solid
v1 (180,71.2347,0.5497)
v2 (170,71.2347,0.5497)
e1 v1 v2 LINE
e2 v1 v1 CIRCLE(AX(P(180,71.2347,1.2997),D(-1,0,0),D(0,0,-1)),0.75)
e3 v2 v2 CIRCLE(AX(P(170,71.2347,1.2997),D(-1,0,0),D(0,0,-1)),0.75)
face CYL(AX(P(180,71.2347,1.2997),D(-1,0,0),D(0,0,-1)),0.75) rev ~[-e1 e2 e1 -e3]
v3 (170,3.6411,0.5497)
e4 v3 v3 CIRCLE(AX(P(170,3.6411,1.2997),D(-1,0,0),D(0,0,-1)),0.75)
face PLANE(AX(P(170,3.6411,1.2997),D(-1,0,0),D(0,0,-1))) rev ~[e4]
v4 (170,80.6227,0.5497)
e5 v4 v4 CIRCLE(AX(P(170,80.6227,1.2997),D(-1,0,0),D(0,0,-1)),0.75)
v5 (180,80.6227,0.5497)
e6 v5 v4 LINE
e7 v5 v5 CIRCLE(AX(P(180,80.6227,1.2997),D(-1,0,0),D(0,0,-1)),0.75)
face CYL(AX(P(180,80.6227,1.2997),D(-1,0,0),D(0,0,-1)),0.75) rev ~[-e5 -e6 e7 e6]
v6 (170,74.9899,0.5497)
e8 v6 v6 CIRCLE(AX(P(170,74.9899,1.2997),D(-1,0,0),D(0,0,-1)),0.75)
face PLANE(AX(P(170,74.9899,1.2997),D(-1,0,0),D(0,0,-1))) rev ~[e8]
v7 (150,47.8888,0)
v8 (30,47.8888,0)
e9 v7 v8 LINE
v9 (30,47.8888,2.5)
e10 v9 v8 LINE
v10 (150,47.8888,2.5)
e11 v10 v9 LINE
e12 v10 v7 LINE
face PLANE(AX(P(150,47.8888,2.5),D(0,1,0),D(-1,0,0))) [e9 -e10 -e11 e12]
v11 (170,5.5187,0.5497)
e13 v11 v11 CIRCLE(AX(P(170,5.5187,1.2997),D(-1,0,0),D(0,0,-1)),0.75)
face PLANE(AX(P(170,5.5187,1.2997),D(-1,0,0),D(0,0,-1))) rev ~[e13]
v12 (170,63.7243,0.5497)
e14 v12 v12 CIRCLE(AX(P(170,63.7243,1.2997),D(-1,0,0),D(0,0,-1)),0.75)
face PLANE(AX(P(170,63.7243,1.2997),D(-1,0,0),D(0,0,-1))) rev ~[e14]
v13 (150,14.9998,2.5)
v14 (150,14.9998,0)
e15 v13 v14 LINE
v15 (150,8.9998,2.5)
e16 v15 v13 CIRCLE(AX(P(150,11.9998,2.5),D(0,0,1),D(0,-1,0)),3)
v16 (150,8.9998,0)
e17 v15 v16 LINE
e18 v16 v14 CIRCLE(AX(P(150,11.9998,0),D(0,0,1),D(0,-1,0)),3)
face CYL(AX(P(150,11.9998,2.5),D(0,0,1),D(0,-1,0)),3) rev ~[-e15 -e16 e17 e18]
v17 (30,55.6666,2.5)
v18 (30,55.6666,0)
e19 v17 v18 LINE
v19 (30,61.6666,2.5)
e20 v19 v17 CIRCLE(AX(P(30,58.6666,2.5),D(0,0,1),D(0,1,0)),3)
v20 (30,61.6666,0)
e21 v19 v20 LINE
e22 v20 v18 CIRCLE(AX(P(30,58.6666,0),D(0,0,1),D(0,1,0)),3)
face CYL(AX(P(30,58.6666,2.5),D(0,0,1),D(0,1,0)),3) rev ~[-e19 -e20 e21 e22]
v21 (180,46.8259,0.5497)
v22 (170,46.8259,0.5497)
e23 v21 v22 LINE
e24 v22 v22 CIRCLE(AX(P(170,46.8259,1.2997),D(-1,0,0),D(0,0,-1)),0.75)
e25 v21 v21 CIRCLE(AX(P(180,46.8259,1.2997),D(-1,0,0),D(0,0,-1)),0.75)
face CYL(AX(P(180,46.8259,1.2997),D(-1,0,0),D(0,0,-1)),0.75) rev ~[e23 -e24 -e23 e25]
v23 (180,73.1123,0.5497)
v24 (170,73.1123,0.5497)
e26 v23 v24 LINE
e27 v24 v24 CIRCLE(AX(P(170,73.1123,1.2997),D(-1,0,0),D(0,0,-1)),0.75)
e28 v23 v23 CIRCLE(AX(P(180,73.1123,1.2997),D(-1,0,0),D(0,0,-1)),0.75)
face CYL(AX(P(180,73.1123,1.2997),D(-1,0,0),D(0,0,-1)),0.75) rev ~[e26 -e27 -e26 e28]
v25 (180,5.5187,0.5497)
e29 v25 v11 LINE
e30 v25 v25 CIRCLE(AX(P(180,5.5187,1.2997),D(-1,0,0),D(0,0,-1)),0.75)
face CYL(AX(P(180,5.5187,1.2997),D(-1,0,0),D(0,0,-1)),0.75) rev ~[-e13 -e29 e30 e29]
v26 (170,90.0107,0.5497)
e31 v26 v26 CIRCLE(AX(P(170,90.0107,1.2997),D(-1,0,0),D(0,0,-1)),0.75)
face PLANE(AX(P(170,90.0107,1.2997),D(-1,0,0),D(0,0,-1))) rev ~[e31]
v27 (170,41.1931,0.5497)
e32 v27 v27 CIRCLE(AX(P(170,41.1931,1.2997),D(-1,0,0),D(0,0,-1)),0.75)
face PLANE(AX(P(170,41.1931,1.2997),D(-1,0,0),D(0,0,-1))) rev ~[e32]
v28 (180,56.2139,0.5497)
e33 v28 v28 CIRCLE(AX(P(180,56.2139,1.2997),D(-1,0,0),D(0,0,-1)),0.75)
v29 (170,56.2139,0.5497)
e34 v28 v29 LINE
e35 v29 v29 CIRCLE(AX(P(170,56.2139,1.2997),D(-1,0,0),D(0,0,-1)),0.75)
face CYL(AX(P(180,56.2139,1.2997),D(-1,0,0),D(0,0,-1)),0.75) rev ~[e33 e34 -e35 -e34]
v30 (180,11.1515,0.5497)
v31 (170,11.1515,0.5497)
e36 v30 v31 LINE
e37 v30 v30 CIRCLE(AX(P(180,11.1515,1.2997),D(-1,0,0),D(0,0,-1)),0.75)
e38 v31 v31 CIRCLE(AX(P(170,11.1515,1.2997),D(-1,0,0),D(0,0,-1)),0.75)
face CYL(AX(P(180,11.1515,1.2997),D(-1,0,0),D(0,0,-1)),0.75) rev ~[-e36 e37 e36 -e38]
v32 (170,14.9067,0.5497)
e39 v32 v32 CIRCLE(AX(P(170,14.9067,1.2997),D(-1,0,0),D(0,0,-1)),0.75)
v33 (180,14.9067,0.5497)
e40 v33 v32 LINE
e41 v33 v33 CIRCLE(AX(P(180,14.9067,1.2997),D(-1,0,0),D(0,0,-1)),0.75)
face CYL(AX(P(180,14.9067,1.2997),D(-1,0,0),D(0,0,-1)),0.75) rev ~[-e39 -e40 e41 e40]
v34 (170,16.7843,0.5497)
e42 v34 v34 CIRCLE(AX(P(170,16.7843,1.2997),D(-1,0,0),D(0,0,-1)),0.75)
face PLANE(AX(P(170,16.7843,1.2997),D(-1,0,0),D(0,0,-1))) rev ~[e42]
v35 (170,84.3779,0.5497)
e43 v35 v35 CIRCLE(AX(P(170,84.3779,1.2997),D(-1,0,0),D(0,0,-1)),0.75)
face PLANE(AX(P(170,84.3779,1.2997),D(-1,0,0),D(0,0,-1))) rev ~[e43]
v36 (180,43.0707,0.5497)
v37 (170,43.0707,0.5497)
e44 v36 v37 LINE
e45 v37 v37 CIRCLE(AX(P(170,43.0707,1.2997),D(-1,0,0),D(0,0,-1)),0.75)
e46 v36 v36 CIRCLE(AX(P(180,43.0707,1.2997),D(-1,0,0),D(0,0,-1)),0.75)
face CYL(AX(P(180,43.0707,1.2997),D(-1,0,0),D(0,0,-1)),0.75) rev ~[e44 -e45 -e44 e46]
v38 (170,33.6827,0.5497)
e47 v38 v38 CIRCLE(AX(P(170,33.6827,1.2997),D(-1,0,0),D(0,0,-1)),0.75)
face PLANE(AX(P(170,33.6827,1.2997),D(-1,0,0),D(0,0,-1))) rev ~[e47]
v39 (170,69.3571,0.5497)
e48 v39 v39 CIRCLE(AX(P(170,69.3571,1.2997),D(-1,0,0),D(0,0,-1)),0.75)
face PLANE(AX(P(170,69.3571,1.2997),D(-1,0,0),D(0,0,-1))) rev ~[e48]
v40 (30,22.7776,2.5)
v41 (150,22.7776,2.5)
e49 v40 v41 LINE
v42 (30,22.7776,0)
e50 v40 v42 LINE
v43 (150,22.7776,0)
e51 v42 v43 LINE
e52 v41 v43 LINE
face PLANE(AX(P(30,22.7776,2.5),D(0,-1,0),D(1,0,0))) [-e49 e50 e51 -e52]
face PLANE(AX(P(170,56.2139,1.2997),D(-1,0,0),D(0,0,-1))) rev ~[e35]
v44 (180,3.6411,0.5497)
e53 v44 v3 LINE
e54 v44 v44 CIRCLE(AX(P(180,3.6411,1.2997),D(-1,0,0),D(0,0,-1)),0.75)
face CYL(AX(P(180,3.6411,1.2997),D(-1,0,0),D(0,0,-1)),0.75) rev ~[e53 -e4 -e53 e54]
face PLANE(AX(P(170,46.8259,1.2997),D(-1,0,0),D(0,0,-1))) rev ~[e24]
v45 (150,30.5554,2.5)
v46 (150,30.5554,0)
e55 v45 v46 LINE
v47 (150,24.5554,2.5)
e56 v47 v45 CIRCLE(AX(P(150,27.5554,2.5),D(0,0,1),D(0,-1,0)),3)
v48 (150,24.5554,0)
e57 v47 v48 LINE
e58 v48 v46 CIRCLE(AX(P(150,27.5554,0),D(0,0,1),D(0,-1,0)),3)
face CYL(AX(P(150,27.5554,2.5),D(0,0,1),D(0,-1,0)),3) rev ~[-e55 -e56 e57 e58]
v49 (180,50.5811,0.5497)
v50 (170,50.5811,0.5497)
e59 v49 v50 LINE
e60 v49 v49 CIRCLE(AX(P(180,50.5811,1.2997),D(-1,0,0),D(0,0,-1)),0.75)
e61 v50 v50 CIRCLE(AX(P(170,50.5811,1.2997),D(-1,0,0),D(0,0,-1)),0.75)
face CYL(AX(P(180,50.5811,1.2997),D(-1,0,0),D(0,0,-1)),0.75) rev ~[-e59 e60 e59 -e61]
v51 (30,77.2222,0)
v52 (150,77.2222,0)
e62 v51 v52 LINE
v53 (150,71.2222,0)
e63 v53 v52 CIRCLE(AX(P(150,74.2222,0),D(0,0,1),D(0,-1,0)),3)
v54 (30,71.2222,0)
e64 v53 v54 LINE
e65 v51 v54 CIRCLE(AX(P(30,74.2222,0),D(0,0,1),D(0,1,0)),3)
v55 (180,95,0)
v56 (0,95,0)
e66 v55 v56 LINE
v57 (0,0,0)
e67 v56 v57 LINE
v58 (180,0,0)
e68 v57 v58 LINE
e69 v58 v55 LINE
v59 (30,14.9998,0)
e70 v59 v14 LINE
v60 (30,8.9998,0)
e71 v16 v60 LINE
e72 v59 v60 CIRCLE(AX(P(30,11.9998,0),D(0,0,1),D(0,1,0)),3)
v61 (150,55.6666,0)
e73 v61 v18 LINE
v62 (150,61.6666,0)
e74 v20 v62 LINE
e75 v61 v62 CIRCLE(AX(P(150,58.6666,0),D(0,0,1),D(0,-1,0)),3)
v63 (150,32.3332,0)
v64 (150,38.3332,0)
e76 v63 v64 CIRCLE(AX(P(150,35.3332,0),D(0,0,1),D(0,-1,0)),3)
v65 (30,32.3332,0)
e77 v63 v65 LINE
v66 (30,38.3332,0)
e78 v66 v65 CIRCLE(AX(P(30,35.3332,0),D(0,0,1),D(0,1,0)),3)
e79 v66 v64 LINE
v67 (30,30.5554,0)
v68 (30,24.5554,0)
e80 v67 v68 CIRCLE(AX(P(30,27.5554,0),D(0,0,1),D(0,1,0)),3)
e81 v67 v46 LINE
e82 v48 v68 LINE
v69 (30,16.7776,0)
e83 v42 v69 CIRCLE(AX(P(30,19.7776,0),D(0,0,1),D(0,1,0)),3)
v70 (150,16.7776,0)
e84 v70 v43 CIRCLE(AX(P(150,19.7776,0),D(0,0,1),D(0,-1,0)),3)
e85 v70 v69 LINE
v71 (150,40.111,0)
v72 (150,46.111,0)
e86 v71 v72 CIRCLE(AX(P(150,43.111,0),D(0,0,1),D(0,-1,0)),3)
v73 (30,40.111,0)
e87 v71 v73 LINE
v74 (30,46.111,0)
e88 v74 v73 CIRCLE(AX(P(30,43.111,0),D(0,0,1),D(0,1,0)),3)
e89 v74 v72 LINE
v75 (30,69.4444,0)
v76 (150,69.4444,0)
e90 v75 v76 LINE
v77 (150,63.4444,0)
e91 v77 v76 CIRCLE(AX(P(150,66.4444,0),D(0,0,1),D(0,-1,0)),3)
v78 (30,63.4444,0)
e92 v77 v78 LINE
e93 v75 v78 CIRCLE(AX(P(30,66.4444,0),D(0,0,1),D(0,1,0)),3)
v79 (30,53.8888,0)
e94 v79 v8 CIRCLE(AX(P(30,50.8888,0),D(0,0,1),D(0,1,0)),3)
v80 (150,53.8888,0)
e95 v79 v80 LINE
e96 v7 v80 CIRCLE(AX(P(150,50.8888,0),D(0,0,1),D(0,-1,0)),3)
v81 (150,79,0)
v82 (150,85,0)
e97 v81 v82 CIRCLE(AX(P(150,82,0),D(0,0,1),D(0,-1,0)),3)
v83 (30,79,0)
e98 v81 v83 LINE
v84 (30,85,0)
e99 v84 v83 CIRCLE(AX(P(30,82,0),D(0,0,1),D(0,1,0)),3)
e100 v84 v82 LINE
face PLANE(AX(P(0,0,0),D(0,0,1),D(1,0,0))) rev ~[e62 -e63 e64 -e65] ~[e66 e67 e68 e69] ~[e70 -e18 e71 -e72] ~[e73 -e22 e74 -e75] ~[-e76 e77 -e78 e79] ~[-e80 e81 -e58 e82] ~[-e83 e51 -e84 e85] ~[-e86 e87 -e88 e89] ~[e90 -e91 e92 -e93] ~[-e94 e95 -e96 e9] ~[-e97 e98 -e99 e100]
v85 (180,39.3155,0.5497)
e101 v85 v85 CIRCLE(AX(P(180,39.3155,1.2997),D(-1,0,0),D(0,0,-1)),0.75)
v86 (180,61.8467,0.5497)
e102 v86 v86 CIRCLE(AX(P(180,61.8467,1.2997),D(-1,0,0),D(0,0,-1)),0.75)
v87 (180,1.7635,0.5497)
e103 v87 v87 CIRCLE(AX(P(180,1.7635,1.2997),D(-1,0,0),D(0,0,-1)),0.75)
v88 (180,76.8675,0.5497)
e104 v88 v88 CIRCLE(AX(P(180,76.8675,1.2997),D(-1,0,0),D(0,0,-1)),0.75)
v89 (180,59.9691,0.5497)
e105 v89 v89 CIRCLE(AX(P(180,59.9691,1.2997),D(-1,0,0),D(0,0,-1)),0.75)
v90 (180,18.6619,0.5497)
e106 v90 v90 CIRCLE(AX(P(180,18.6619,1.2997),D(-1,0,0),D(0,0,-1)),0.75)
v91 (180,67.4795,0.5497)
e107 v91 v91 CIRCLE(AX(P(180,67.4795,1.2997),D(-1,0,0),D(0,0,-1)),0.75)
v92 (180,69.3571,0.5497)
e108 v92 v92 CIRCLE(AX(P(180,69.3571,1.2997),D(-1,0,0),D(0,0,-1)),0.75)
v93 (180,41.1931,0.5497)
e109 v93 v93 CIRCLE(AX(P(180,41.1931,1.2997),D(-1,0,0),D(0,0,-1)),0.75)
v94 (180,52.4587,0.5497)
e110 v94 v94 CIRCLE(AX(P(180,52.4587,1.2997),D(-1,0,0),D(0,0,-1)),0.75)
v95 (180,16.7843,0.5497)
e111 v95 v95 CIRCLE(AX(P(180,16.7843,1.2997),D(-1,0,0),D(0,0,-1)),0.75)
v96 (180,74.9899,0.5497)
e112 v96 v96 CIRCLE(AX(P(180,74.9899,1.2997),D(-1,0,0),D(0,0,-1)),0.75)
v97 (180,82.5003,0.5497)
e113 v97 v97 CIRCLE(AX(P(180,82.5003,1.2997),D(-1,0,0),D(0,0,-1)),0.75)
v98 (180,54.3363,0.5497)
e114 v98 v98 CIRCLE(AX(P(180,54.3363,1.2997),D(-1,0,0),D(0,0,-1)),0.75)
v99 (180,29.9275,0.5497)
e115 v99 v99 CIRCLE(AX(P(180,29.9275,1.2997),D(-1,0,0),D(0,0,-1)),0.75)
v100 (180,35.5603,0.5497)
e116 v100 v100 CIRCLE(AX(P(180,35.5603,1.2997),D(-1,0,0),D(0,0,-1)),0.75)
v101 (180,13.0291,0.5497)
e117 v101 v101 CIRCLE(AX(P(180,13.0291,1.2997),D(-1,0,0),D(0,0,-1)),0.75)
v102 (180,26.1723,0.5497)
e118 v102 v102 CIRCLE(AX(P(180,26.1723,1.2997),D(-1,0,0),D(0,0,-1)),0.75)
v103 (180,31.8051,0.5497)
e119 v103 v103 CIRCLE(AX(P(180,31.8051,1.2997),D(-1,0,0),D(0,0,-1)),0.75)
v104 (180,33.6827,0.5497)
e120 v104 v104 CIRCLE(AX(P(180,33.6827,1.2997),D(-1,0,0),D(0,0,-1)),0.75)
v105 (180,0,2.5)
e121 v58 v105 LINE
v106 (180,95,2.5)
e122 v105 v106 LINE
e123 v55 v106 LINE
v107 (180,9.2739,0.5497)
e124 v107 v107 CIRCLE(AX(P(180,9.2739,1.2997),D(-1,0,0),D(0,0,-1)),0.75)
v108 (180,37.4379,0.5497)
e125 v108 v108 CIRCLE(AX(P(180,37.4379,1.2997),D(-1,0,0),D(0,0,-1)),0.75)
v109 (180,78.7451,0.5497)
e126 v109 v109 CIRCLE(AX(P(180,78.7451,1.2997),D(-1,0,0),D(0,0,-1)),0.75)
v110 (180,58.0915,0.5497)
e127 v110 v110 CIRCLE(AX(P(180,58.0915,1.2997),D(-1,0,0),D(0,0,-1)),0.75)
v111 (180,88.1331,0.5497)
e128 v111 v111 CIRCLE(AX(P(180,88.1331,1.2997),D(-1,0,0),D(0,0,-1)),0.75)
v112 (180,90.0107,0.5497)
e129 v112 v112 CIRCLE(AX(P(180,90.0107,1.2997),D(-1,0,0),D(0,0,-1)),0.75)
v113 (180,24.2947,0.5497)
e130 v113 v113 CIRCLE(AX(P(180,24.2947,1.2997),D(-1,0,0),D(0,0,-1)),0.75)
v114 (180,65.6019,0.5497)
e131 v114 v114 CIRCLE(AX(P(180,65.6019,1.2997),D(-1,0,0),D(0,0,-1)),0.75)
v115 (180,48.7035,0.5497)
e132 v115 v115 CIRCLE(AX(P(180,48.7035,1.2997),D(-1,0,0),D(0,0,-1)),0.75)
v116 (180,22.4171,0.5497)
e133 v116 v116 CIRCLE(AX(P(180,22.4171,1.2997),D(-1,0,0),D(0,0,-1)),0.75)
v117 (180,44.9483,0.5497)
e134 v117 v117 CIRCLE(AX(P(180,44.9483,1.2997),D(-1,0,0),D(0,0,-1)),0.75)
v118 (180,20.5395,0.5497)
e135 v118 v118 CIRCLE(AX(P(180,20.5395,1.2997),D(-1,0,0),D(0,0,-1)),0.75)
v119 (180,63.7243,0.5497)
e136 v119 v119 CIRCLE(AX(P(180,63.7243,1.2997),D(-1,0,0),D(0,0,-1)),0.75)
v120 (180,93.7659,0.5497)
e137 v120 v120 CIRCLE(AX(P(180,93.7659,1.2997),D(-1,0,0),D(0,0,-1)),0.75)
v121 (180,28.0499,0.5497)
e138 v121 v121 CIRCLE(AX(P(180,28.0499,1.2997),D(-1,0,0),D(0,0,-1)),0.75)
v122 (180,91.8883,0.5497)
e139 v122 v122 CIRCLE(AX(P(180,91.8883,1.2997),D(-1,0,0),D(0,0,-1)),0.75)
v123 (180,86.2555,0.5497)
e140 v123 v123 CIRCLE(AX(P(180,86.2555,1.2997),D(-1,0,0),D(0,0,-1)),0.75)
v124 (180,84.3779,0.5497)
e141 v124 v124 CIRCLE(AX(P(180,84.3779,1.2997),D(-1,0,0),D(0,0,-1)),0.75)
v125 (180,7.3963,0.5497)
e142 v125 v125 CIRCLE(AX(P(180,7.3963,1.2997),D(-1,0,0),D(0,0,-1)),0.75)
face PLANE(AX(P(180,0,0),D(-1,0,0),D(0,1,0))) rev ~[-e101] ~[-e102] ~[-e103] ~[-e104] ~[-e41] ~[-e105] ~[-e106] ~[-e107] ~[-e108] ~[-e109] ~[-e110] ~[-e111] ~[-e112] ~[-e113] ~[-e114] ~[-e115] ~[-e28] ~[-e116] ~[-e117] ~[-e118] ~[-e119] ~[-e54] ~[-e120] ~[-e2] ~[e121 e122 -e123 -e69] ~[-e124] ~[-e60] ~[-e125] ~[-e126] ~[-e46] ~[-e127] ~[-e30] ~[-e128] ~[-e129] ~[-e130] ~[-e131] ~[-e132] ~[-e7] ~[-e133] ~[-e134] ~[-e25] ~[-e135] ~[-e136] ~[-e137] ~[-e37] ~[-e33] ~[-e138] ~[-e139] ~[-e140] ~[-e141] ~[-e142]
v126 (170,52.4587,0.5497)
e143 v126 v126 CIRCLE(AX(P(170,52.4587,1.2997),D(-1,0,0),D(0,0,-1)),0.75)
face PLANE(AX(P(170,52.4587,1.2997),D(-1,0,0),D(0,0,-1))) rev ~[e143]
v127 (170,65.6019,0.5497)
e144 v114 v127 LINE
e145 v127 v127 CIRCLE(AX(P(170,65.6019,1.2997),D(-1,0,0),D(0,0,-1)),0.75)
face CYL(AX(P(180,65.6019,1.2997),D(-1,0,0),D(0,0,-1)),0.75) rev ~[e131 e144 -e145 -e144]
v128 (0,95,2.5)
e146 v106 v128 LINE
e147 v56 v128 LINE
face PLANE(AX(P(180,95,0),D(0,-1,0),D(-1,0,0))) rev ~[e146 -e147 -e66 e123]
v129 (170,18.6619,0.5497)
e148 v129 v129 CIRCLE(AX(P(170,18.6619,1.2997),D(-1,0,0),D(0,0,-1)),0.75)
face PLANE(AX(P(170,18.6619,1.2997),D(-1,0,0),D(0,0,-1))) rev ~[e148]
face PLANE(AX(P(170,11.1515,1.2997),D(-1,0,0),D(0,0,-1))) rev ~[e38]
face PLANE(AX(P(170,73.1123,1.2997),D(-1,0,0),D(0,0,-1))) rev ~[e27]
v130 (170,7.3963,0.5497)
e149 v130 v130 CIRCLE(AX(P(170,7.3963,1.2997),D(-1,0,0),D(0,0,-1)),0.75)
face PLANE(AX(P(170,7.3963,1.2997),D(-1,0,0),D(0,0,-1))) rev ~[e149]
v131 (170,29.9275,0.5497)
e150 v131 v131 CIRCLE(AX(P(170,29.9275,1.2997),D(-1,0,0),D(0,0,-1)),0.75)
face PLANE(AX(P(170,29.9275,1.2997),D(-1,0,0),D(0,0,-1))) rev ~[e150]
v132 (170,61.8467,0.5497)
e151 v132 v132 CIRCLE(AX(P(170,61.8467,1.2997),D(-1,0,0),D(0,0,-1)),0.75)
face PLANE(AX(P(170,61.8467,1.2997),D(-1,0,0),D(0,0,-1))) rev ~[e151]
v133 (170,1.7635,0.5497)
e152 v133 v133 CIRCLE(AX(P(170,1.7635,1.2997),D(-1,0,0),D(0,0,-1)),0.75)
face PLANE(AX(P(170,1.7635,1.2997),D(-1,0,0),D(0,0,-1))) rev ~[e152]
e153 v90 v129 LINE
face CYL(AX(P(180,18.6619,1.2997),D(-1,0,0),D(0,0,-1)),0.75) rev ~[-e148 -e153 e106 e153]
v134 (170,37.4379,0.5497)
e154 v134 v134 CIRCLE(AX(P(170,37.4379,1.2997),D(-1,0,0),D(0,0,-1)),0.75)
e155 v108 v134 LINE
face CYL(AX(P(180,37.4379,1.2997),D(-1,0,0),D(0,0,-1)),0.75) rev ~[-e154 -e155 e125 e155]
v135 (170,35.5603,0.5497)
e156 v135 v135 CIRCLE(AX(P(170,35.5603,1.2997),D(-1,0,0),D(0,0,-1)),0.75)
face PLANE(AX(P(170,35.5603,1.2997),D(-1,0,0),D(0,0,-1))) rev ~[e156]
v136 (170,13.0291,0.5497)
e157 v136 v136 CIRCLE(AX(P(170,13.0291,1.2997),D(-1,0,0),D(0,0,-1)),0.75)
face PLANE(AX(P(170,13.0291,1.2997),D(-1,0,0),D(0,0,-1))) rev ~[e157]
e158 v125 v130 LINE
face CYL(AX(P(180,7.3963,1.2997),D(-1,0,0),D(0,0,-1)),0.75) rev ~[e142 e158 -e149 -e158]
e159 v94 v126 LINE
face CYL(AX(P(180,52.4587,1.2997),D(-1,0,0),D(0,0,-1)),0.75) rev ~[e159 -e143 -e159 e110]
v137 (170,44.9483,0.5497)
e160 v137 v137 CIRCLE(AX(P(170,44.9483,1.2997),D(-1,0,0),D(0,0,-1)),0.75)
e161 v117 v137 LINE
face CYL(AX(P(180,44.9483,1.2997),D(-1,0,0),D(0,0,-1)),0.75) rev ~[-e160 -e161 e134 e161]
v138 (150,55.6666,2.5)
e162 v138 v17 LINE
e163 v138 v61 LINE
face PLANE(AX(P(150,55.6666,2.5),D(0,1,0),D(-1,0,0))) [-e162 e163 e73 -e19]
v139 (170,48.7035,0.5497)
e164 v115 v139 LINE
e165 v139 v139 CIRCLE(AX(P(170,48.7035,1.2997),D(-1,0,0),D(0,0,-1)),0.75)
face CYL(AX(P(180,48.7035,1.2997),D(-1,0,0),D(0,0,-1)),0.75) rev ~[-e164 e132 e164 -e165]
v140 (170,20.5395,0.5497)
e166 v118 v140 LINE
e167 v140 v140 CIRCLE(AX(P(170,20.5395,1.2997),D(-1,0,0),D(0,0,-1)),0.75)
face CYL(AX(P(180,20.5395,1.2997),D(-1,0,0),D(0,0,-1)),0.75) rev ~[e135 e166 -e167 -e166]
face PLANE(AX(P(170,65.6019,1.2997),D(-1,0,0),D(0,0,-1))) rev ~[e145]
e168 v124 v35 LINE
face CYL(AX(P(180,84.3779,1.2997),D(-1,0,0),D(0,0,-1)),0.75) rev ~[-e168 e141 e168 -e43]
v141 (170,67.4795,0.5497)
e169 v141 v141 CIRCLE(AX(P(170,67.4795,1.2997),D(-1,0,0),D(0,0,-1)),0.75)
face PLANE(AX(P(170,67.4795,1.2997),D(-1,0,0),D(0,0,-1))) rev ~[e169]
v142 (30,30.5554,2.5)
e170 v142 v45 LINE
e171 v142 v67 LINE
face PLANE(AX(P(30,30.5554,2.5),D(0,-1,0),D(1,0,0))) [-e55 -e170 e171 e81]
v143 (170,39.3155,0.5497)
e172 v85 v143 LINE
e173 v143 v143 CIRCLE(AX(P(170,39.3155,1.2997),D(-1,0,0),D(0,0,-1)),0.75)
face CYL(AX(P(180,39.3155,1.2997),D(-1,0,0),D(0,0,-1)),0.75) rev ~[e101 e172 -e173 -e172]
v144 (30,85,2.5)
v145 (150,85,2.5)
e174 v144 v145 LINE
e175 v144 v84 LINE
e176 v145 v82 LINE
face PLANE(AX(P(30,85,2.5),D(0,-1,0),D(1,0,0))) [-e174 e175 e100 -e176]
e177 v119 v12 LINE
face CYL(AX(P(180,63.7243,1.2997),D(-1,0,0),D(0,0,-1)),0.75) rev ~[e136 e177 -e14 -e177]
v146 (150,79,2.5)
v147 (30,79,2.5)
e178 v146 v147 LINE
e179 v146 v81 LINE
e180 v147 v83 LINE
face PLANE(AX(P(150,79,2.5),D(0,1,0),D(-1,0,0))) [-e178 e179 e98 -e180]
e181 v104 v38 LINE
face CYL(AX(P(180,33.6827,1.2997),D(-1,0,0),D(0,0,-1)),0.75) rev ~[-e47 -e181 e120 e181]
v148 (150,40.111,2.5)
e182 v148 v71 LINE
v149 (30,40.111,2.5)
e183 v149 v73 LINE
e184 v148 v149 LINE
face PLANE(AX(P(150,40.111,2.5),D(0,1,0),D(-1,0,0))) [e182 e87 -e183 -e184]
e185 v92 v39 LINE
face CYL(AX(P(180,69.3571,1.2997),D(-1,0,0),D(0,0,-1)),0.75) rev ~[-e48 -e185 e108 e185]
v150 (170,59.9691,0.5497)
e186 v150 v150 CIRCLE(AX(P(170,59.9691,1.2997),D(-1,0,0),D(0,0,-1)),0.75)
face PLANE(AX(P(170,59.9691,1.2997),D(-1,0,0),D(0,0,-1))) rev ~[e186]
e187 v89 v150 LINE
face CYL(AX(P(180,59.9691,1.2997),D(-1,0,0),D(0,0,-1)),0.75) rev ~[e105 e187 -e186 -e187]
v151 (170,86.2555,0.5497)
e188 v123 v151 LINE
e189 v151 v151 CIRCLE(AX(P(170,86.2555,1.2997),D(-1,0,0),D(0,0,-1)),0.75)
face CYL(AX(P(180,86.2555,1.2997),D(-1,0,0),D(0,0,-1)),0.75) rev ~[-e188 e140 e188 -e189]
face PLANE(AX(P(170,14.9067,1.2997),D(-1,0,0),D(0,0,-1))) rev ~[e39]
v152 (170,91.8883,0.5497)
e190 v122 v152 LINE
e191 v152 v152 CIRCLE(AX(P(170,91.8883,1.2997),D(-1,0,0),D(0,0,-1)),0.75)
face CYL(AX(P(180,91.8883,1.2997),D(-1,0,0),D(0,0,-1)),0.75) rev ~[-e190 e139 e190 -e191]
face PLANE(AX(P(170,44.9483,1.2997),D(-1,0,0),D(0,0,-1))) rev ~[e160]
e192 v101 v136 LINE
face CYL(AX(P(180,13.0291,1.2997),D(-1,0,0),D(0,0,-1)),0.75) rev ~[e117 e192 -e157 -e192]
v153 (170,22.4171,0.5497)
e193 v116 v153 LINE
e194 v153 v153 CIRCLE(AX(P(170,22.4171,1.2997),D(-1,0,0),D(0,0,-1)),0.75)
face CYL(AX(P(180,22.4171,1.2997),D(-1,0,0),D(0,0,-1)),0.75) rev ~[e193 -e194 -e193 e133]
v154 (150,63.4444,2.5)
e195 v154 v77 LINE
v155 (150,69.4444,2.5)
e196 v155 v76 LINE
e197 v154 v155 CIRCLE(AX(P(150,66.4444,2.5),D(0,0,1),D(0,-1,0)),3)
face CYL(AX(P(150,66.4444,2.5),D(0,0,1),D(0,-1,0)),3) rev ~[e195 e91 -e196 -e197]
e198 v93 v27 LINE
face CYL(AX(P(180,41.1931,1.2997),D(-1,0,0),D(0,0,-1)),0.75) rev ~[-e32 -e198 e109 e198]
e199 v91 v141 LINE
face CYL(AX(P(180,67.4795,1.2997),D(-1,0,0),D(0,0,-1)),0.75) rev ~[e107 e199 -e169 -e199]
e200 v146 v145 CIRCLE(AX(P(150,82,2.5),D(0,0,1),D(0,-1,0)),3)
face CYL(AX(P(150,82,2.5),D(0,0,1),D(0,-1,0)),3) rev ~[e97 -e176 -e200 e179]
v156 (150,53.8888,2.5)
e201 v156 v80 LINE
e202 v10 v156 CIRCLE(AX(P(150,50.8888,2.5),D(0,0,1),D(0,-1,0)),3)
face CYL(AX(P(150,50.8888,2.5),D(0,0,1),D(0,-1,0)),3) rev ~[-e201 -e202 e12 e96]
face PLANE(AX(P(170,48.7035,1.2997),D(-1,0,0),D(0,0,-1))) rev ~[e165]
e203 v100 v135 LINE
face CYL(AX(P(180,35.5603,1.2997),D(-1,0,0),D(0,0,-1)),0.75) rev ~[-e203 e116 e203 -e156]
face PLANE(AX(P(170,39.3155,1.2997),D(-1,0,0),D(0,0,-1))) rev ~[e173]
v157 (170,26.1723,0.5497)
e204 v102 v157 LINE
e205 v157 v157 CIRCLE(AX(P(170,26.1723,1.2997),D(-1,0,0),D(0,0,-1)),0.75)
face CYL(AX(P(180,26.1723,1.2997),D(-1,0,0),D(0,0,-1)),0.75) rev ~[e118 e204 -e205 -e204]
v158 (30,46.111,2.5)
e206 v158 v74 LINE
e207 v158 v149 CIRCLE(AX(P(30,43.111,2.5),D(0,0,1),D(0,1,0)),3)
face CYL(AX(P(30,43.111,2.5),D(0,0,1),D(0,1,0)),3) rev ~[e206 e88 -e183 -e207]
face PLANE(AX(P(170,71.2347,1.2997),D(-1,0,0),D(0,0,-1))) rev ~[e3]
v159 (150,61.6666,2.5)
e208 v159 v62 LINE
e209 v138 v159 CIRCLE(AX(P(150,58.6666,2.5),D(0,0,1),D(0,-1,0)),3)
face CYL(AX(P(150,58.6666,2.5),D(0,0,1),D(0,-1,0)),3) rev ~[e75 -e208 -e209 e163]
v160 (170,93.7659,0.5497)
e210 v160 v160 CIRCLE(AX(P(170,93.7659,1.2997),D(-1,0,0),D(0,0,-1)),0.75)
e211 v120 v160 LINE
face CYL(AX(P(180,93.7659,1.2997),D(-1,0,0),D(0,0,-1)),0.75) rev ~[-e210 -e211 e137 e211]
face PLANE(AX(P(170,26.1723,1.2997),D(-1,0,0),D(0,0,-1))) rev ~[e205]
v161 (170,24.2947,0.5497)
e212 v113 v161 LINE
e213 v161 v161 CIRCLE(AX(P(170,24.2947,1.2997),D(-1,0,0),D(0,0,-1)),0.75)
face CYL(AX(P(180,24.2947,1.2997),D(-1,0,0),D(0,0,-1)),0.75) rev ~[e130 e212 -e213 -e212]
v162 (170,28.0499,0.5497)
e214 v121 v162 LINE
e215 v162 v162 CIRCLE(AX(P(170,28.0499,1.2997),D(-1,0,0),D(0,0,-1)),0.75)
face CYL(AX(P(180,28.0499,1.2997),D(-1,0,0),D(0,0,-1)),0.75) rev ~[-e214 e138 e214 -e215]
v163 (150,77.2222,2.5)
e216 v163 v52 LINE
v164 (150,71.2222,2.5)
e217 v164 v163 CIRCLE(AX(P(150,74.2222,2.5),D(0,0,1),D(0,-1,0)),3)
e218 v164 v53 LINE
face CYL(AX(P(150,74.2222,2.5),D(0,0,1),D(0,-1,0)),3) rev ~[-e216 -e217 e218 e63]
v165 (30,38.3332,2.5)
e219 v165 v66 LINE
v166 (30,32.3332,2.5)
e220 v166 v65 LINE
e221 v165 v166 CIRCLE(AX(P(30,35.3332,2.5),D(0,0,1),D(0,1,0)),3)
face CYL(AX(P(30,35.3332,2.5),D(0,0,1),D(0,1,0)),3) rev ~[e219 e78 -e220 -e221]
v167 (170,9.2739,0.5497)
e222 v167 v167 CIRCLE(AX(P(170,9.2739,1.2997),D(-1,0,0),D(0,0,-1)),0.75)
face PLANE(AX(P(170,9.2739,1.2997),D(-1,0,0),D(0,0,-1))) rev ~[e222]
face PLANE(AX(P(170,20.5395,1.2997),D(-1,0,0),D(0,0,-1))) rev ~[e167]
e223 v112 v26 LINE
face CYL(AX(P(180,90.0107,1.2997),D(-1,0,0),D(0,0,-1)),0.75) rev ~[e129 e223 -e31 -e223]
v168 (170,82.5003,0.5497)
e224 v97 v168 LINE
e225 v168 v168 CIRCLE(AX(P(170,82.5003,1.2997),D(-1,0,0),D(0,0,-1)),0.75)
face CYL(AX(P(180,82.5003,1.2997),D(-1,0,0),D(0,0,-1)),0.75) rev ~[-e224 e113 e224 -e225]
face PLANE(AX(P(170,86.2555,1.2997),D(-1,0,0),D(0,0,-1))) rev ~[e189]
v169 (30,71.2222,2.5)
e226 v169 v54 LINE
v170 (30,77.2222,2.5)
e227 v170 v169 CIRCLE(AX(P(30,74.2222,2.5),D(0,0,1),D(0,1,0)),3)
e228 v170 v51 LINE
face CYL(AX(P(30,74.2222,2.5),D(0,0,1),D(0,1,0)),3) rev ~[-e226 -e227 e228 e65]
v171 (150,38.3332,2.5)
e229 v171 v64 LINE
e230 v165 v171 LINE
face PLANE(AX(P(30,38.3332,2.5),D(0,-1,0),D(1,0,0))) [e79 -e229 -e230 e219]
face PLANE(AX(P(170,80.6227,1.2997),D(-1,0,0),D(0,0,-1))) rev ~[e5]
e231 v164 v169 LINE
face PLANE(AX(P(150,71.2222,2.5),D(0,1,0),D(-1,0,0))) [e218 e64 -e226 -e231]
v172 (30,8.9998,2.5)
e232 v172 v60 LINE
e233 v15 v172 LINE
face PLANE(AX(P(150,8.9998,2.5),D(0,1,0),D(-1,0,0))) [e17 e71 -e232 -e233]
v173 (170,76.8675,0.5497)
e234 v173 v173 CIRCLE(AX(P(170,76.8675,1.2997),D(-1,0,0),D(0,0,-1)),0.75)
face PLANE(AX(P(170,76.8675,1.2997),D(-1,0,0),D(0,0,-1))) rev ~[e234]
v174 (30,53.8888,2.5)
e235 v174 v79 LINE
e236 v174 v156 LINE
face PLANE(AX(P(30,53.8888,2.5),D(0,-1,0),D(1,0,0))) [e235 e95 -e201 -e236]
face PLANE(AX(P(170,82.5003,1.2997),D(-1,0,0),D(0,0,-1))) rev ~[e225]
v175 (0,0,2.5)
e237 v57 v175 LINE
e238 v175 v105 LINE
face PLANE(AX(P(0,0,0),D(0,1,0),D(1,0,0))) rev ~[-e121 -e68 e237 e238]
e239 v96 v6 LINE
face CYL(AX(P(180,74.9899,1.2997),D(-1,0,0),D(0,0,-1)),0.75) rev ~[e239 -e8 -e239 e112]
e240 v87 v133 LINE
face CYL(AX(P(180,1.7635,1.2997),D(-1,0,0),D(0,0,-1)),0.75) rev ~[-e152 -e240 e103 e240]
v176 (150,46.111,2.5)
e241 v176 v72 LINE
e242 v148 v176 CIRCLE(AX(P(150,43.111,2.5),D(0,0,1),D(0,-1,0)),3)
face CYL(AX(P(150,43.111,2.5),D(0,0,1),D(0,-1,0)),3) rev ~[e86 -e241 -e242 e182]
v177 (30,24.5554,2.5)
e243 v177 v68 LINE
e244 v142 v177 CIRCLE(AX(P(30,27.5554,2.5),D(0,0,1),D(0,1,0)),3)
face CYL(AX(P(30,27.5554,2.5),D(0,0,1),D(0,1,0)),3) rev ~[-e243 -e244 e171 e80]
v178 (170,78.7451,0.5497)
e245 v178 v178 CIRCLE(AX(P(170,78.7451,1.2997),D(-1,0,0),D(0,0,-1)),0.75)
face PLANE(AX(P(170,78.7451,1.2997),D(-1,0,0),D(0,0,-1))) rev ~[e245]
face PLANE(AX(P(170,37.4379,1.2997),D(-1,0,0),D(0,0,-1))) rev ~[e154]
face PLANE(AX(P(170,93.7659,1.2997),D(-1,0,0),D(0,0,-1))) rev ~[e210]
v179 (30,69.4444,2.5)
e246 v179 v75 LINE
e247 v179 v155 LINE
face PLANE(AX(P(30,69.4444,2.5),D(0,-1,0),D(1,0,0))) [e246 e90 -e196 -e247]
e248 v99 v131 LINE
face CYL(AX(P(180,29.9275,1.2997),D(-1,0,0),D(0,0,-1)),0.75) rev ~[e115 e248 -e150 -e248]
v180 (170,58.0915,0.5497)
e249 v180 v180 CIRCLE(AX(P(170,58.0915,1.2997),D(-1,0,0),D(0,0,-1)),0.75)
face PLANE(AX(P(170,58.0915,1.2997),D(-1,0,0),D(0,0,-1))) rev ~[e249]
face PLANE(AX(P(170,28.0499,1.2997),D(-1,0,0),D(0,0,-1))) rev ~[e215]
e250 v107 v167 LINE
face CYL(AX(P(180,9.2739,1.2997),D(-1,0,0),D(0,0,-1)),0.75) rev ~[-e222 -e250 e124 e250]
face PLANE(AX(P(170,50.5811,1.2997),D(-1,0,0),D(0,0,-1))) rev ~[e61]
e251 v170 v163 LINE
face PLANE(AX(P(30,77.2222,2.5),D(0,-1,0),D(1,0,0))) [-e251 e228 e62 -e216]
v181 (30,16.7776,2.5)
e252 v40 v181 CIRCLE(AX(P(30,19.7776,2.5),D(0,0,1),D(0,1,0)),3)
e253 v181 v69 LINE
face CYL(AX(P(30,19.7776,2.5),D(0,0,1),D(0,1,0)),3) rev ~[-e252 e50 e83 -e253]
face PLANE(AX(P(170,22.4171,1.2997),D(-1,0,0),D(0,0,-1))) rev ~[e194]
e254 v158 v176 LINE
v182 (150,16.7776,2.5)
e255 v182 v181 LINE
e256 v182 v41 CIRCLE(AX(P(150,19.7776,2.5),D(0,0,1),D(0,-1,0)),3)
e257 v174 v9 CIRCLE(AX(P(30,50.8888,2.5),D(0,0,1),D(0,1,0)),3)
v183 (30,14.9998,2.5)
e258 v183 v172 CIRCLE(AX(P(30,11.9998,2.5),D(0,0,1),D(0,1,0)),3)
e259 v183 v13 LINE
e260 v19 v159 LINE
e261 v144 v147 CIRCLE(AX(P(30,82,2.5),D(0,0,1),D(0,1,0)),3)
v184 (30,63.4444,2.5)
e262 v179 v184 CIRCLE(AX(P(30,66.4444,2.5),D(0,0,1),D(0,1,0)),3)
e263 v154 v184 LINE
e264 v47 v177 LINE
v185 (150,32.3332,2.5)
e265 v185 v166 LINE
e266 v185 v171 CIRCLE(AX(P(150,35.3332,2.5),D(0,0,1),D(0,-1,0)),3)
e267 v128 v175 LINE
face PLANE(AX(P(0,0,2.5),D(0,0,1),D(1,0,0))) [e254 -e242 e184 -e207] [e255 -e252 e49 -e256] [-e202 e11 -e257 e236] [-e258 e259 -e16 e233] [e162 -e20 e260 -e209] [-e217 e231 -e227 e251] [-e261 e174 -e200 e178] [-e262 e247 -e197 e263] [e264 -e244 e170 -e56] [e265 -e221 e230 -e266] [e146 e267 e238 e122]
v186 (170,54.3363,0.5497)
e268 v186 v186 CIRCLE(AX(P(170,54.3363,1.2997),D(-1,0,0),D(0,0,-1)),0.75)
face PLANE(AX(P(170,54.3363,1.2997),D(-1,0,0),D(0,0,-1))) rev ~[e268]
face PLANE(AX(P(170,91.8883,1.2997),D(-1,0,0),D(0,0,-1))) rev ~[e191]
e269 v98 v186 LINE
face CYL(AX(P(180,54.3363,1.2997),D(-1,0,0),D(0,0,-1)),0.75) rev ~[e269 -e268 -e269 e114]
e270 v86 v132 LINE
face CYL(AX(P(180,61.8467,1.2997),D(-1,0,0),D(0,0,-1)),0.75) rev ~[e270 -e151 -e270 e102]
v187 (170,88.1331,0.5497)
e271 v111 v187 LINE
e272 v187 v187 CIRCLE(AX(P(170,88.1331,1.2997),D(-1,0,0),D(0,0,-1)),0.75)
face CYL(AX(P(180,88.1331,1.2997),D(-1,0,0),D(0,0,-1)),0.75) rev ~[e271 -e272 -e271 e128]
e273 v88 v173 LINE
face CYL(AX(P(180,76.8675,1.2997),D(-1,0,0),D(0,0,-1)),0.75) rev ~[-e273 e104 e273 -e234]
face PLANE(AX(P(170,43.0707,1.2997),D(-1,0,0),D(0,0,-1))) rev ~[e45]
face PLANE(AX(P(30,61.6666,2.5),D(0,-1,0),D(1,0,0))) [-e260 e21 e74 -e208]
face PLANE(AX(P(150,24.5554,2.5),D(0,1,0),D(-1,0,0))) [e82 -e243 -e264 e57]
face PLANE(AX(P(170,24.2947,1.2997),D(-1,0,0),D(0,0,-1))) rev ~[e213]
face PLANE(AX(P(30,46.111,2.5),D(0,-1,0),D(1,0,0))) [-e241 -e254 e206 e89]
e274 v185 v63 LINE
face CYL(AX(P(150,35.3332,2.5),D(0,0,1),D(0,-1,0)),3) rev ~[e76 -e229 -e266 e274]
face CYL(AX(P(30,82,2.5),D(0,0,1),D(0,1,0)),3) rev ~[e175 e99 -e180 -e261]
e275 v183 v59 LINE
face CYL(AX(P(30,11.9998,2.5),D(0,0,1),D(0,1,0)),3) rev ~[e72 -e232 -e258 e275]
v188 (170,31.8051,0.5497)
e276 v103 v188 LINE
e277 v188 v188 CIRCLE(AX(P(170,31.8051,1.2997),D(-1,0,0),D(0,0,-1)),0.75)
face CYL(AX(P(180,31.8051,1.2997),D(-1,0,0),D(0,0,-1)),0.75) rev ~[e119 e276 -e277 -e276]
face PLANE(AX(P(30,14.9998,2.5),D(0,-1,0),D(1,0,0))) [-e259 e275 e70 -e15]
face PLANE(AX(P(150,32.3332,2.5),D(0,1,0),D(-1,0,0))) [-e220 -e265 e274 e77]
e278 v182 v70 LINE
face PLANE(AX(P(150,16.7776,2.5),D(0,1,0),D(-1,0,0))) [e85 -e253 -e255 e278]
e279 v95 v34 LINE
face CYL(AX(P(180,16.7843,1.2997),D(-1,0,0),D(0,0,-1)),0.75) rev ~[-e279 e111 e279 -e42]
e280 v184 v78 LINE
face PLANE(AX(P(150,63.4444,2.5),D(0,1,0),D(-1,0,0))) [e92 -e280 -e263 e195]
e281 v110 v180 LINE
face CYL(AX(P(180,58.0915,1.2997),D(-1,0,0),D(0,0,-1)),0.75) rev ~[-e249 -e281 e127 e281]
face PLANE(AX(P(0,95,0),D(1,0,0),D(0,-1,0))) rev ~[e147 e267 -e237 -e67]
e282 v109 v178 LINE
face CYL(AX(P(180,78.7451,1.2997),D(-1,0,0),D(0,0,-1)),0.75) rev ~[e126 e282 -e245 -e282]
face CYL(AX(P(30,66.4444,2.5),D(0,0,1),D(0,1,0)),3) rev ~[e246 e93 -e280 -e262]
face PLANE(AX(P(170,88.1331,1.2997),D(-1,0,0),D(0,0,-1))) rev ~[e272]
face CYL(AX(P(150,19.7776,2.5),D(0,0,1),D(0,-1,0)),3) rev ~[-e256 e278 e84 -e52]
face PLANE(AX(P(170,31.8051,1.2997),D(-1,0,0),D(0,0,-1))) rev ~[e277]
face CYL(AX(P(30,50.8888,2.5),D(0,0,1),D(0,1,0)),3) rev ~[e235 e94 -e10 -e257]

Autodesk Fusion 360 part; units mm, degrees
sketch "Sketch1" plane through (0, 0, 0) normal (0, 0, 1) x (1, 0, 0)
  line L0 (0, 0) -> (180, 0)
  line L1 (180, 0) -> (180, 95)
  line L2 (180, 95) -> (0, 95)
  line L3 (0, 95) -> (0, 0)
  dimension "d1" = 95
  dimension "d2" = 180
extrude "Extrude1" add sketch "Sketch1" along normal blind 2.5
sketch "Sketch2" plane through (0, 0, 2.5) normal (0, 0, 1) x (-1, 0, 0)
  line L0 (0, -95) -> (0, 0)
  line L1 (0, 0) -> (-180, 0)
  line L2 (-180, 0) -> (-180, -95)
  line L3 (-180, -95) -> (0, -95)
  line L4 (-30, -85) -> (-150, -85)
  line L5 (-150, -79) -> (-30, -79)
  arc A0 (-150, -79) -> (-150, -85) centre (-150, -82) ccw
  arc A1 (-30, -85) -> (-30, -79) centre (-30, -82) ccw
  dimension "d5" = 6
  dimension "d6" = 120
  dimension "d7" = 6
  dimension "d8" = 10
  dimension "d14" = 30
extrude "Extrude2" cut sketch "Sketch2" against normal through all contours L4 L5 A0 A1
pattern_linear "R-Pattern1" count 1 spacing 0 along (1, 0, 0) count 10 spacing 7.7778 along (0, -1, 0) of "Extrude2"
hole "Hole1" at (180, 1.7635, 1.2997) direction (-1, 0, 0) diameter 1.5 depth 10 tip angle 180
pattern_linear "R-Pattern2" count 1 spacing 2 along (0, 0, -1) count 50 spacing 1.8776 along (0, 1, 0) of "Hole1"
